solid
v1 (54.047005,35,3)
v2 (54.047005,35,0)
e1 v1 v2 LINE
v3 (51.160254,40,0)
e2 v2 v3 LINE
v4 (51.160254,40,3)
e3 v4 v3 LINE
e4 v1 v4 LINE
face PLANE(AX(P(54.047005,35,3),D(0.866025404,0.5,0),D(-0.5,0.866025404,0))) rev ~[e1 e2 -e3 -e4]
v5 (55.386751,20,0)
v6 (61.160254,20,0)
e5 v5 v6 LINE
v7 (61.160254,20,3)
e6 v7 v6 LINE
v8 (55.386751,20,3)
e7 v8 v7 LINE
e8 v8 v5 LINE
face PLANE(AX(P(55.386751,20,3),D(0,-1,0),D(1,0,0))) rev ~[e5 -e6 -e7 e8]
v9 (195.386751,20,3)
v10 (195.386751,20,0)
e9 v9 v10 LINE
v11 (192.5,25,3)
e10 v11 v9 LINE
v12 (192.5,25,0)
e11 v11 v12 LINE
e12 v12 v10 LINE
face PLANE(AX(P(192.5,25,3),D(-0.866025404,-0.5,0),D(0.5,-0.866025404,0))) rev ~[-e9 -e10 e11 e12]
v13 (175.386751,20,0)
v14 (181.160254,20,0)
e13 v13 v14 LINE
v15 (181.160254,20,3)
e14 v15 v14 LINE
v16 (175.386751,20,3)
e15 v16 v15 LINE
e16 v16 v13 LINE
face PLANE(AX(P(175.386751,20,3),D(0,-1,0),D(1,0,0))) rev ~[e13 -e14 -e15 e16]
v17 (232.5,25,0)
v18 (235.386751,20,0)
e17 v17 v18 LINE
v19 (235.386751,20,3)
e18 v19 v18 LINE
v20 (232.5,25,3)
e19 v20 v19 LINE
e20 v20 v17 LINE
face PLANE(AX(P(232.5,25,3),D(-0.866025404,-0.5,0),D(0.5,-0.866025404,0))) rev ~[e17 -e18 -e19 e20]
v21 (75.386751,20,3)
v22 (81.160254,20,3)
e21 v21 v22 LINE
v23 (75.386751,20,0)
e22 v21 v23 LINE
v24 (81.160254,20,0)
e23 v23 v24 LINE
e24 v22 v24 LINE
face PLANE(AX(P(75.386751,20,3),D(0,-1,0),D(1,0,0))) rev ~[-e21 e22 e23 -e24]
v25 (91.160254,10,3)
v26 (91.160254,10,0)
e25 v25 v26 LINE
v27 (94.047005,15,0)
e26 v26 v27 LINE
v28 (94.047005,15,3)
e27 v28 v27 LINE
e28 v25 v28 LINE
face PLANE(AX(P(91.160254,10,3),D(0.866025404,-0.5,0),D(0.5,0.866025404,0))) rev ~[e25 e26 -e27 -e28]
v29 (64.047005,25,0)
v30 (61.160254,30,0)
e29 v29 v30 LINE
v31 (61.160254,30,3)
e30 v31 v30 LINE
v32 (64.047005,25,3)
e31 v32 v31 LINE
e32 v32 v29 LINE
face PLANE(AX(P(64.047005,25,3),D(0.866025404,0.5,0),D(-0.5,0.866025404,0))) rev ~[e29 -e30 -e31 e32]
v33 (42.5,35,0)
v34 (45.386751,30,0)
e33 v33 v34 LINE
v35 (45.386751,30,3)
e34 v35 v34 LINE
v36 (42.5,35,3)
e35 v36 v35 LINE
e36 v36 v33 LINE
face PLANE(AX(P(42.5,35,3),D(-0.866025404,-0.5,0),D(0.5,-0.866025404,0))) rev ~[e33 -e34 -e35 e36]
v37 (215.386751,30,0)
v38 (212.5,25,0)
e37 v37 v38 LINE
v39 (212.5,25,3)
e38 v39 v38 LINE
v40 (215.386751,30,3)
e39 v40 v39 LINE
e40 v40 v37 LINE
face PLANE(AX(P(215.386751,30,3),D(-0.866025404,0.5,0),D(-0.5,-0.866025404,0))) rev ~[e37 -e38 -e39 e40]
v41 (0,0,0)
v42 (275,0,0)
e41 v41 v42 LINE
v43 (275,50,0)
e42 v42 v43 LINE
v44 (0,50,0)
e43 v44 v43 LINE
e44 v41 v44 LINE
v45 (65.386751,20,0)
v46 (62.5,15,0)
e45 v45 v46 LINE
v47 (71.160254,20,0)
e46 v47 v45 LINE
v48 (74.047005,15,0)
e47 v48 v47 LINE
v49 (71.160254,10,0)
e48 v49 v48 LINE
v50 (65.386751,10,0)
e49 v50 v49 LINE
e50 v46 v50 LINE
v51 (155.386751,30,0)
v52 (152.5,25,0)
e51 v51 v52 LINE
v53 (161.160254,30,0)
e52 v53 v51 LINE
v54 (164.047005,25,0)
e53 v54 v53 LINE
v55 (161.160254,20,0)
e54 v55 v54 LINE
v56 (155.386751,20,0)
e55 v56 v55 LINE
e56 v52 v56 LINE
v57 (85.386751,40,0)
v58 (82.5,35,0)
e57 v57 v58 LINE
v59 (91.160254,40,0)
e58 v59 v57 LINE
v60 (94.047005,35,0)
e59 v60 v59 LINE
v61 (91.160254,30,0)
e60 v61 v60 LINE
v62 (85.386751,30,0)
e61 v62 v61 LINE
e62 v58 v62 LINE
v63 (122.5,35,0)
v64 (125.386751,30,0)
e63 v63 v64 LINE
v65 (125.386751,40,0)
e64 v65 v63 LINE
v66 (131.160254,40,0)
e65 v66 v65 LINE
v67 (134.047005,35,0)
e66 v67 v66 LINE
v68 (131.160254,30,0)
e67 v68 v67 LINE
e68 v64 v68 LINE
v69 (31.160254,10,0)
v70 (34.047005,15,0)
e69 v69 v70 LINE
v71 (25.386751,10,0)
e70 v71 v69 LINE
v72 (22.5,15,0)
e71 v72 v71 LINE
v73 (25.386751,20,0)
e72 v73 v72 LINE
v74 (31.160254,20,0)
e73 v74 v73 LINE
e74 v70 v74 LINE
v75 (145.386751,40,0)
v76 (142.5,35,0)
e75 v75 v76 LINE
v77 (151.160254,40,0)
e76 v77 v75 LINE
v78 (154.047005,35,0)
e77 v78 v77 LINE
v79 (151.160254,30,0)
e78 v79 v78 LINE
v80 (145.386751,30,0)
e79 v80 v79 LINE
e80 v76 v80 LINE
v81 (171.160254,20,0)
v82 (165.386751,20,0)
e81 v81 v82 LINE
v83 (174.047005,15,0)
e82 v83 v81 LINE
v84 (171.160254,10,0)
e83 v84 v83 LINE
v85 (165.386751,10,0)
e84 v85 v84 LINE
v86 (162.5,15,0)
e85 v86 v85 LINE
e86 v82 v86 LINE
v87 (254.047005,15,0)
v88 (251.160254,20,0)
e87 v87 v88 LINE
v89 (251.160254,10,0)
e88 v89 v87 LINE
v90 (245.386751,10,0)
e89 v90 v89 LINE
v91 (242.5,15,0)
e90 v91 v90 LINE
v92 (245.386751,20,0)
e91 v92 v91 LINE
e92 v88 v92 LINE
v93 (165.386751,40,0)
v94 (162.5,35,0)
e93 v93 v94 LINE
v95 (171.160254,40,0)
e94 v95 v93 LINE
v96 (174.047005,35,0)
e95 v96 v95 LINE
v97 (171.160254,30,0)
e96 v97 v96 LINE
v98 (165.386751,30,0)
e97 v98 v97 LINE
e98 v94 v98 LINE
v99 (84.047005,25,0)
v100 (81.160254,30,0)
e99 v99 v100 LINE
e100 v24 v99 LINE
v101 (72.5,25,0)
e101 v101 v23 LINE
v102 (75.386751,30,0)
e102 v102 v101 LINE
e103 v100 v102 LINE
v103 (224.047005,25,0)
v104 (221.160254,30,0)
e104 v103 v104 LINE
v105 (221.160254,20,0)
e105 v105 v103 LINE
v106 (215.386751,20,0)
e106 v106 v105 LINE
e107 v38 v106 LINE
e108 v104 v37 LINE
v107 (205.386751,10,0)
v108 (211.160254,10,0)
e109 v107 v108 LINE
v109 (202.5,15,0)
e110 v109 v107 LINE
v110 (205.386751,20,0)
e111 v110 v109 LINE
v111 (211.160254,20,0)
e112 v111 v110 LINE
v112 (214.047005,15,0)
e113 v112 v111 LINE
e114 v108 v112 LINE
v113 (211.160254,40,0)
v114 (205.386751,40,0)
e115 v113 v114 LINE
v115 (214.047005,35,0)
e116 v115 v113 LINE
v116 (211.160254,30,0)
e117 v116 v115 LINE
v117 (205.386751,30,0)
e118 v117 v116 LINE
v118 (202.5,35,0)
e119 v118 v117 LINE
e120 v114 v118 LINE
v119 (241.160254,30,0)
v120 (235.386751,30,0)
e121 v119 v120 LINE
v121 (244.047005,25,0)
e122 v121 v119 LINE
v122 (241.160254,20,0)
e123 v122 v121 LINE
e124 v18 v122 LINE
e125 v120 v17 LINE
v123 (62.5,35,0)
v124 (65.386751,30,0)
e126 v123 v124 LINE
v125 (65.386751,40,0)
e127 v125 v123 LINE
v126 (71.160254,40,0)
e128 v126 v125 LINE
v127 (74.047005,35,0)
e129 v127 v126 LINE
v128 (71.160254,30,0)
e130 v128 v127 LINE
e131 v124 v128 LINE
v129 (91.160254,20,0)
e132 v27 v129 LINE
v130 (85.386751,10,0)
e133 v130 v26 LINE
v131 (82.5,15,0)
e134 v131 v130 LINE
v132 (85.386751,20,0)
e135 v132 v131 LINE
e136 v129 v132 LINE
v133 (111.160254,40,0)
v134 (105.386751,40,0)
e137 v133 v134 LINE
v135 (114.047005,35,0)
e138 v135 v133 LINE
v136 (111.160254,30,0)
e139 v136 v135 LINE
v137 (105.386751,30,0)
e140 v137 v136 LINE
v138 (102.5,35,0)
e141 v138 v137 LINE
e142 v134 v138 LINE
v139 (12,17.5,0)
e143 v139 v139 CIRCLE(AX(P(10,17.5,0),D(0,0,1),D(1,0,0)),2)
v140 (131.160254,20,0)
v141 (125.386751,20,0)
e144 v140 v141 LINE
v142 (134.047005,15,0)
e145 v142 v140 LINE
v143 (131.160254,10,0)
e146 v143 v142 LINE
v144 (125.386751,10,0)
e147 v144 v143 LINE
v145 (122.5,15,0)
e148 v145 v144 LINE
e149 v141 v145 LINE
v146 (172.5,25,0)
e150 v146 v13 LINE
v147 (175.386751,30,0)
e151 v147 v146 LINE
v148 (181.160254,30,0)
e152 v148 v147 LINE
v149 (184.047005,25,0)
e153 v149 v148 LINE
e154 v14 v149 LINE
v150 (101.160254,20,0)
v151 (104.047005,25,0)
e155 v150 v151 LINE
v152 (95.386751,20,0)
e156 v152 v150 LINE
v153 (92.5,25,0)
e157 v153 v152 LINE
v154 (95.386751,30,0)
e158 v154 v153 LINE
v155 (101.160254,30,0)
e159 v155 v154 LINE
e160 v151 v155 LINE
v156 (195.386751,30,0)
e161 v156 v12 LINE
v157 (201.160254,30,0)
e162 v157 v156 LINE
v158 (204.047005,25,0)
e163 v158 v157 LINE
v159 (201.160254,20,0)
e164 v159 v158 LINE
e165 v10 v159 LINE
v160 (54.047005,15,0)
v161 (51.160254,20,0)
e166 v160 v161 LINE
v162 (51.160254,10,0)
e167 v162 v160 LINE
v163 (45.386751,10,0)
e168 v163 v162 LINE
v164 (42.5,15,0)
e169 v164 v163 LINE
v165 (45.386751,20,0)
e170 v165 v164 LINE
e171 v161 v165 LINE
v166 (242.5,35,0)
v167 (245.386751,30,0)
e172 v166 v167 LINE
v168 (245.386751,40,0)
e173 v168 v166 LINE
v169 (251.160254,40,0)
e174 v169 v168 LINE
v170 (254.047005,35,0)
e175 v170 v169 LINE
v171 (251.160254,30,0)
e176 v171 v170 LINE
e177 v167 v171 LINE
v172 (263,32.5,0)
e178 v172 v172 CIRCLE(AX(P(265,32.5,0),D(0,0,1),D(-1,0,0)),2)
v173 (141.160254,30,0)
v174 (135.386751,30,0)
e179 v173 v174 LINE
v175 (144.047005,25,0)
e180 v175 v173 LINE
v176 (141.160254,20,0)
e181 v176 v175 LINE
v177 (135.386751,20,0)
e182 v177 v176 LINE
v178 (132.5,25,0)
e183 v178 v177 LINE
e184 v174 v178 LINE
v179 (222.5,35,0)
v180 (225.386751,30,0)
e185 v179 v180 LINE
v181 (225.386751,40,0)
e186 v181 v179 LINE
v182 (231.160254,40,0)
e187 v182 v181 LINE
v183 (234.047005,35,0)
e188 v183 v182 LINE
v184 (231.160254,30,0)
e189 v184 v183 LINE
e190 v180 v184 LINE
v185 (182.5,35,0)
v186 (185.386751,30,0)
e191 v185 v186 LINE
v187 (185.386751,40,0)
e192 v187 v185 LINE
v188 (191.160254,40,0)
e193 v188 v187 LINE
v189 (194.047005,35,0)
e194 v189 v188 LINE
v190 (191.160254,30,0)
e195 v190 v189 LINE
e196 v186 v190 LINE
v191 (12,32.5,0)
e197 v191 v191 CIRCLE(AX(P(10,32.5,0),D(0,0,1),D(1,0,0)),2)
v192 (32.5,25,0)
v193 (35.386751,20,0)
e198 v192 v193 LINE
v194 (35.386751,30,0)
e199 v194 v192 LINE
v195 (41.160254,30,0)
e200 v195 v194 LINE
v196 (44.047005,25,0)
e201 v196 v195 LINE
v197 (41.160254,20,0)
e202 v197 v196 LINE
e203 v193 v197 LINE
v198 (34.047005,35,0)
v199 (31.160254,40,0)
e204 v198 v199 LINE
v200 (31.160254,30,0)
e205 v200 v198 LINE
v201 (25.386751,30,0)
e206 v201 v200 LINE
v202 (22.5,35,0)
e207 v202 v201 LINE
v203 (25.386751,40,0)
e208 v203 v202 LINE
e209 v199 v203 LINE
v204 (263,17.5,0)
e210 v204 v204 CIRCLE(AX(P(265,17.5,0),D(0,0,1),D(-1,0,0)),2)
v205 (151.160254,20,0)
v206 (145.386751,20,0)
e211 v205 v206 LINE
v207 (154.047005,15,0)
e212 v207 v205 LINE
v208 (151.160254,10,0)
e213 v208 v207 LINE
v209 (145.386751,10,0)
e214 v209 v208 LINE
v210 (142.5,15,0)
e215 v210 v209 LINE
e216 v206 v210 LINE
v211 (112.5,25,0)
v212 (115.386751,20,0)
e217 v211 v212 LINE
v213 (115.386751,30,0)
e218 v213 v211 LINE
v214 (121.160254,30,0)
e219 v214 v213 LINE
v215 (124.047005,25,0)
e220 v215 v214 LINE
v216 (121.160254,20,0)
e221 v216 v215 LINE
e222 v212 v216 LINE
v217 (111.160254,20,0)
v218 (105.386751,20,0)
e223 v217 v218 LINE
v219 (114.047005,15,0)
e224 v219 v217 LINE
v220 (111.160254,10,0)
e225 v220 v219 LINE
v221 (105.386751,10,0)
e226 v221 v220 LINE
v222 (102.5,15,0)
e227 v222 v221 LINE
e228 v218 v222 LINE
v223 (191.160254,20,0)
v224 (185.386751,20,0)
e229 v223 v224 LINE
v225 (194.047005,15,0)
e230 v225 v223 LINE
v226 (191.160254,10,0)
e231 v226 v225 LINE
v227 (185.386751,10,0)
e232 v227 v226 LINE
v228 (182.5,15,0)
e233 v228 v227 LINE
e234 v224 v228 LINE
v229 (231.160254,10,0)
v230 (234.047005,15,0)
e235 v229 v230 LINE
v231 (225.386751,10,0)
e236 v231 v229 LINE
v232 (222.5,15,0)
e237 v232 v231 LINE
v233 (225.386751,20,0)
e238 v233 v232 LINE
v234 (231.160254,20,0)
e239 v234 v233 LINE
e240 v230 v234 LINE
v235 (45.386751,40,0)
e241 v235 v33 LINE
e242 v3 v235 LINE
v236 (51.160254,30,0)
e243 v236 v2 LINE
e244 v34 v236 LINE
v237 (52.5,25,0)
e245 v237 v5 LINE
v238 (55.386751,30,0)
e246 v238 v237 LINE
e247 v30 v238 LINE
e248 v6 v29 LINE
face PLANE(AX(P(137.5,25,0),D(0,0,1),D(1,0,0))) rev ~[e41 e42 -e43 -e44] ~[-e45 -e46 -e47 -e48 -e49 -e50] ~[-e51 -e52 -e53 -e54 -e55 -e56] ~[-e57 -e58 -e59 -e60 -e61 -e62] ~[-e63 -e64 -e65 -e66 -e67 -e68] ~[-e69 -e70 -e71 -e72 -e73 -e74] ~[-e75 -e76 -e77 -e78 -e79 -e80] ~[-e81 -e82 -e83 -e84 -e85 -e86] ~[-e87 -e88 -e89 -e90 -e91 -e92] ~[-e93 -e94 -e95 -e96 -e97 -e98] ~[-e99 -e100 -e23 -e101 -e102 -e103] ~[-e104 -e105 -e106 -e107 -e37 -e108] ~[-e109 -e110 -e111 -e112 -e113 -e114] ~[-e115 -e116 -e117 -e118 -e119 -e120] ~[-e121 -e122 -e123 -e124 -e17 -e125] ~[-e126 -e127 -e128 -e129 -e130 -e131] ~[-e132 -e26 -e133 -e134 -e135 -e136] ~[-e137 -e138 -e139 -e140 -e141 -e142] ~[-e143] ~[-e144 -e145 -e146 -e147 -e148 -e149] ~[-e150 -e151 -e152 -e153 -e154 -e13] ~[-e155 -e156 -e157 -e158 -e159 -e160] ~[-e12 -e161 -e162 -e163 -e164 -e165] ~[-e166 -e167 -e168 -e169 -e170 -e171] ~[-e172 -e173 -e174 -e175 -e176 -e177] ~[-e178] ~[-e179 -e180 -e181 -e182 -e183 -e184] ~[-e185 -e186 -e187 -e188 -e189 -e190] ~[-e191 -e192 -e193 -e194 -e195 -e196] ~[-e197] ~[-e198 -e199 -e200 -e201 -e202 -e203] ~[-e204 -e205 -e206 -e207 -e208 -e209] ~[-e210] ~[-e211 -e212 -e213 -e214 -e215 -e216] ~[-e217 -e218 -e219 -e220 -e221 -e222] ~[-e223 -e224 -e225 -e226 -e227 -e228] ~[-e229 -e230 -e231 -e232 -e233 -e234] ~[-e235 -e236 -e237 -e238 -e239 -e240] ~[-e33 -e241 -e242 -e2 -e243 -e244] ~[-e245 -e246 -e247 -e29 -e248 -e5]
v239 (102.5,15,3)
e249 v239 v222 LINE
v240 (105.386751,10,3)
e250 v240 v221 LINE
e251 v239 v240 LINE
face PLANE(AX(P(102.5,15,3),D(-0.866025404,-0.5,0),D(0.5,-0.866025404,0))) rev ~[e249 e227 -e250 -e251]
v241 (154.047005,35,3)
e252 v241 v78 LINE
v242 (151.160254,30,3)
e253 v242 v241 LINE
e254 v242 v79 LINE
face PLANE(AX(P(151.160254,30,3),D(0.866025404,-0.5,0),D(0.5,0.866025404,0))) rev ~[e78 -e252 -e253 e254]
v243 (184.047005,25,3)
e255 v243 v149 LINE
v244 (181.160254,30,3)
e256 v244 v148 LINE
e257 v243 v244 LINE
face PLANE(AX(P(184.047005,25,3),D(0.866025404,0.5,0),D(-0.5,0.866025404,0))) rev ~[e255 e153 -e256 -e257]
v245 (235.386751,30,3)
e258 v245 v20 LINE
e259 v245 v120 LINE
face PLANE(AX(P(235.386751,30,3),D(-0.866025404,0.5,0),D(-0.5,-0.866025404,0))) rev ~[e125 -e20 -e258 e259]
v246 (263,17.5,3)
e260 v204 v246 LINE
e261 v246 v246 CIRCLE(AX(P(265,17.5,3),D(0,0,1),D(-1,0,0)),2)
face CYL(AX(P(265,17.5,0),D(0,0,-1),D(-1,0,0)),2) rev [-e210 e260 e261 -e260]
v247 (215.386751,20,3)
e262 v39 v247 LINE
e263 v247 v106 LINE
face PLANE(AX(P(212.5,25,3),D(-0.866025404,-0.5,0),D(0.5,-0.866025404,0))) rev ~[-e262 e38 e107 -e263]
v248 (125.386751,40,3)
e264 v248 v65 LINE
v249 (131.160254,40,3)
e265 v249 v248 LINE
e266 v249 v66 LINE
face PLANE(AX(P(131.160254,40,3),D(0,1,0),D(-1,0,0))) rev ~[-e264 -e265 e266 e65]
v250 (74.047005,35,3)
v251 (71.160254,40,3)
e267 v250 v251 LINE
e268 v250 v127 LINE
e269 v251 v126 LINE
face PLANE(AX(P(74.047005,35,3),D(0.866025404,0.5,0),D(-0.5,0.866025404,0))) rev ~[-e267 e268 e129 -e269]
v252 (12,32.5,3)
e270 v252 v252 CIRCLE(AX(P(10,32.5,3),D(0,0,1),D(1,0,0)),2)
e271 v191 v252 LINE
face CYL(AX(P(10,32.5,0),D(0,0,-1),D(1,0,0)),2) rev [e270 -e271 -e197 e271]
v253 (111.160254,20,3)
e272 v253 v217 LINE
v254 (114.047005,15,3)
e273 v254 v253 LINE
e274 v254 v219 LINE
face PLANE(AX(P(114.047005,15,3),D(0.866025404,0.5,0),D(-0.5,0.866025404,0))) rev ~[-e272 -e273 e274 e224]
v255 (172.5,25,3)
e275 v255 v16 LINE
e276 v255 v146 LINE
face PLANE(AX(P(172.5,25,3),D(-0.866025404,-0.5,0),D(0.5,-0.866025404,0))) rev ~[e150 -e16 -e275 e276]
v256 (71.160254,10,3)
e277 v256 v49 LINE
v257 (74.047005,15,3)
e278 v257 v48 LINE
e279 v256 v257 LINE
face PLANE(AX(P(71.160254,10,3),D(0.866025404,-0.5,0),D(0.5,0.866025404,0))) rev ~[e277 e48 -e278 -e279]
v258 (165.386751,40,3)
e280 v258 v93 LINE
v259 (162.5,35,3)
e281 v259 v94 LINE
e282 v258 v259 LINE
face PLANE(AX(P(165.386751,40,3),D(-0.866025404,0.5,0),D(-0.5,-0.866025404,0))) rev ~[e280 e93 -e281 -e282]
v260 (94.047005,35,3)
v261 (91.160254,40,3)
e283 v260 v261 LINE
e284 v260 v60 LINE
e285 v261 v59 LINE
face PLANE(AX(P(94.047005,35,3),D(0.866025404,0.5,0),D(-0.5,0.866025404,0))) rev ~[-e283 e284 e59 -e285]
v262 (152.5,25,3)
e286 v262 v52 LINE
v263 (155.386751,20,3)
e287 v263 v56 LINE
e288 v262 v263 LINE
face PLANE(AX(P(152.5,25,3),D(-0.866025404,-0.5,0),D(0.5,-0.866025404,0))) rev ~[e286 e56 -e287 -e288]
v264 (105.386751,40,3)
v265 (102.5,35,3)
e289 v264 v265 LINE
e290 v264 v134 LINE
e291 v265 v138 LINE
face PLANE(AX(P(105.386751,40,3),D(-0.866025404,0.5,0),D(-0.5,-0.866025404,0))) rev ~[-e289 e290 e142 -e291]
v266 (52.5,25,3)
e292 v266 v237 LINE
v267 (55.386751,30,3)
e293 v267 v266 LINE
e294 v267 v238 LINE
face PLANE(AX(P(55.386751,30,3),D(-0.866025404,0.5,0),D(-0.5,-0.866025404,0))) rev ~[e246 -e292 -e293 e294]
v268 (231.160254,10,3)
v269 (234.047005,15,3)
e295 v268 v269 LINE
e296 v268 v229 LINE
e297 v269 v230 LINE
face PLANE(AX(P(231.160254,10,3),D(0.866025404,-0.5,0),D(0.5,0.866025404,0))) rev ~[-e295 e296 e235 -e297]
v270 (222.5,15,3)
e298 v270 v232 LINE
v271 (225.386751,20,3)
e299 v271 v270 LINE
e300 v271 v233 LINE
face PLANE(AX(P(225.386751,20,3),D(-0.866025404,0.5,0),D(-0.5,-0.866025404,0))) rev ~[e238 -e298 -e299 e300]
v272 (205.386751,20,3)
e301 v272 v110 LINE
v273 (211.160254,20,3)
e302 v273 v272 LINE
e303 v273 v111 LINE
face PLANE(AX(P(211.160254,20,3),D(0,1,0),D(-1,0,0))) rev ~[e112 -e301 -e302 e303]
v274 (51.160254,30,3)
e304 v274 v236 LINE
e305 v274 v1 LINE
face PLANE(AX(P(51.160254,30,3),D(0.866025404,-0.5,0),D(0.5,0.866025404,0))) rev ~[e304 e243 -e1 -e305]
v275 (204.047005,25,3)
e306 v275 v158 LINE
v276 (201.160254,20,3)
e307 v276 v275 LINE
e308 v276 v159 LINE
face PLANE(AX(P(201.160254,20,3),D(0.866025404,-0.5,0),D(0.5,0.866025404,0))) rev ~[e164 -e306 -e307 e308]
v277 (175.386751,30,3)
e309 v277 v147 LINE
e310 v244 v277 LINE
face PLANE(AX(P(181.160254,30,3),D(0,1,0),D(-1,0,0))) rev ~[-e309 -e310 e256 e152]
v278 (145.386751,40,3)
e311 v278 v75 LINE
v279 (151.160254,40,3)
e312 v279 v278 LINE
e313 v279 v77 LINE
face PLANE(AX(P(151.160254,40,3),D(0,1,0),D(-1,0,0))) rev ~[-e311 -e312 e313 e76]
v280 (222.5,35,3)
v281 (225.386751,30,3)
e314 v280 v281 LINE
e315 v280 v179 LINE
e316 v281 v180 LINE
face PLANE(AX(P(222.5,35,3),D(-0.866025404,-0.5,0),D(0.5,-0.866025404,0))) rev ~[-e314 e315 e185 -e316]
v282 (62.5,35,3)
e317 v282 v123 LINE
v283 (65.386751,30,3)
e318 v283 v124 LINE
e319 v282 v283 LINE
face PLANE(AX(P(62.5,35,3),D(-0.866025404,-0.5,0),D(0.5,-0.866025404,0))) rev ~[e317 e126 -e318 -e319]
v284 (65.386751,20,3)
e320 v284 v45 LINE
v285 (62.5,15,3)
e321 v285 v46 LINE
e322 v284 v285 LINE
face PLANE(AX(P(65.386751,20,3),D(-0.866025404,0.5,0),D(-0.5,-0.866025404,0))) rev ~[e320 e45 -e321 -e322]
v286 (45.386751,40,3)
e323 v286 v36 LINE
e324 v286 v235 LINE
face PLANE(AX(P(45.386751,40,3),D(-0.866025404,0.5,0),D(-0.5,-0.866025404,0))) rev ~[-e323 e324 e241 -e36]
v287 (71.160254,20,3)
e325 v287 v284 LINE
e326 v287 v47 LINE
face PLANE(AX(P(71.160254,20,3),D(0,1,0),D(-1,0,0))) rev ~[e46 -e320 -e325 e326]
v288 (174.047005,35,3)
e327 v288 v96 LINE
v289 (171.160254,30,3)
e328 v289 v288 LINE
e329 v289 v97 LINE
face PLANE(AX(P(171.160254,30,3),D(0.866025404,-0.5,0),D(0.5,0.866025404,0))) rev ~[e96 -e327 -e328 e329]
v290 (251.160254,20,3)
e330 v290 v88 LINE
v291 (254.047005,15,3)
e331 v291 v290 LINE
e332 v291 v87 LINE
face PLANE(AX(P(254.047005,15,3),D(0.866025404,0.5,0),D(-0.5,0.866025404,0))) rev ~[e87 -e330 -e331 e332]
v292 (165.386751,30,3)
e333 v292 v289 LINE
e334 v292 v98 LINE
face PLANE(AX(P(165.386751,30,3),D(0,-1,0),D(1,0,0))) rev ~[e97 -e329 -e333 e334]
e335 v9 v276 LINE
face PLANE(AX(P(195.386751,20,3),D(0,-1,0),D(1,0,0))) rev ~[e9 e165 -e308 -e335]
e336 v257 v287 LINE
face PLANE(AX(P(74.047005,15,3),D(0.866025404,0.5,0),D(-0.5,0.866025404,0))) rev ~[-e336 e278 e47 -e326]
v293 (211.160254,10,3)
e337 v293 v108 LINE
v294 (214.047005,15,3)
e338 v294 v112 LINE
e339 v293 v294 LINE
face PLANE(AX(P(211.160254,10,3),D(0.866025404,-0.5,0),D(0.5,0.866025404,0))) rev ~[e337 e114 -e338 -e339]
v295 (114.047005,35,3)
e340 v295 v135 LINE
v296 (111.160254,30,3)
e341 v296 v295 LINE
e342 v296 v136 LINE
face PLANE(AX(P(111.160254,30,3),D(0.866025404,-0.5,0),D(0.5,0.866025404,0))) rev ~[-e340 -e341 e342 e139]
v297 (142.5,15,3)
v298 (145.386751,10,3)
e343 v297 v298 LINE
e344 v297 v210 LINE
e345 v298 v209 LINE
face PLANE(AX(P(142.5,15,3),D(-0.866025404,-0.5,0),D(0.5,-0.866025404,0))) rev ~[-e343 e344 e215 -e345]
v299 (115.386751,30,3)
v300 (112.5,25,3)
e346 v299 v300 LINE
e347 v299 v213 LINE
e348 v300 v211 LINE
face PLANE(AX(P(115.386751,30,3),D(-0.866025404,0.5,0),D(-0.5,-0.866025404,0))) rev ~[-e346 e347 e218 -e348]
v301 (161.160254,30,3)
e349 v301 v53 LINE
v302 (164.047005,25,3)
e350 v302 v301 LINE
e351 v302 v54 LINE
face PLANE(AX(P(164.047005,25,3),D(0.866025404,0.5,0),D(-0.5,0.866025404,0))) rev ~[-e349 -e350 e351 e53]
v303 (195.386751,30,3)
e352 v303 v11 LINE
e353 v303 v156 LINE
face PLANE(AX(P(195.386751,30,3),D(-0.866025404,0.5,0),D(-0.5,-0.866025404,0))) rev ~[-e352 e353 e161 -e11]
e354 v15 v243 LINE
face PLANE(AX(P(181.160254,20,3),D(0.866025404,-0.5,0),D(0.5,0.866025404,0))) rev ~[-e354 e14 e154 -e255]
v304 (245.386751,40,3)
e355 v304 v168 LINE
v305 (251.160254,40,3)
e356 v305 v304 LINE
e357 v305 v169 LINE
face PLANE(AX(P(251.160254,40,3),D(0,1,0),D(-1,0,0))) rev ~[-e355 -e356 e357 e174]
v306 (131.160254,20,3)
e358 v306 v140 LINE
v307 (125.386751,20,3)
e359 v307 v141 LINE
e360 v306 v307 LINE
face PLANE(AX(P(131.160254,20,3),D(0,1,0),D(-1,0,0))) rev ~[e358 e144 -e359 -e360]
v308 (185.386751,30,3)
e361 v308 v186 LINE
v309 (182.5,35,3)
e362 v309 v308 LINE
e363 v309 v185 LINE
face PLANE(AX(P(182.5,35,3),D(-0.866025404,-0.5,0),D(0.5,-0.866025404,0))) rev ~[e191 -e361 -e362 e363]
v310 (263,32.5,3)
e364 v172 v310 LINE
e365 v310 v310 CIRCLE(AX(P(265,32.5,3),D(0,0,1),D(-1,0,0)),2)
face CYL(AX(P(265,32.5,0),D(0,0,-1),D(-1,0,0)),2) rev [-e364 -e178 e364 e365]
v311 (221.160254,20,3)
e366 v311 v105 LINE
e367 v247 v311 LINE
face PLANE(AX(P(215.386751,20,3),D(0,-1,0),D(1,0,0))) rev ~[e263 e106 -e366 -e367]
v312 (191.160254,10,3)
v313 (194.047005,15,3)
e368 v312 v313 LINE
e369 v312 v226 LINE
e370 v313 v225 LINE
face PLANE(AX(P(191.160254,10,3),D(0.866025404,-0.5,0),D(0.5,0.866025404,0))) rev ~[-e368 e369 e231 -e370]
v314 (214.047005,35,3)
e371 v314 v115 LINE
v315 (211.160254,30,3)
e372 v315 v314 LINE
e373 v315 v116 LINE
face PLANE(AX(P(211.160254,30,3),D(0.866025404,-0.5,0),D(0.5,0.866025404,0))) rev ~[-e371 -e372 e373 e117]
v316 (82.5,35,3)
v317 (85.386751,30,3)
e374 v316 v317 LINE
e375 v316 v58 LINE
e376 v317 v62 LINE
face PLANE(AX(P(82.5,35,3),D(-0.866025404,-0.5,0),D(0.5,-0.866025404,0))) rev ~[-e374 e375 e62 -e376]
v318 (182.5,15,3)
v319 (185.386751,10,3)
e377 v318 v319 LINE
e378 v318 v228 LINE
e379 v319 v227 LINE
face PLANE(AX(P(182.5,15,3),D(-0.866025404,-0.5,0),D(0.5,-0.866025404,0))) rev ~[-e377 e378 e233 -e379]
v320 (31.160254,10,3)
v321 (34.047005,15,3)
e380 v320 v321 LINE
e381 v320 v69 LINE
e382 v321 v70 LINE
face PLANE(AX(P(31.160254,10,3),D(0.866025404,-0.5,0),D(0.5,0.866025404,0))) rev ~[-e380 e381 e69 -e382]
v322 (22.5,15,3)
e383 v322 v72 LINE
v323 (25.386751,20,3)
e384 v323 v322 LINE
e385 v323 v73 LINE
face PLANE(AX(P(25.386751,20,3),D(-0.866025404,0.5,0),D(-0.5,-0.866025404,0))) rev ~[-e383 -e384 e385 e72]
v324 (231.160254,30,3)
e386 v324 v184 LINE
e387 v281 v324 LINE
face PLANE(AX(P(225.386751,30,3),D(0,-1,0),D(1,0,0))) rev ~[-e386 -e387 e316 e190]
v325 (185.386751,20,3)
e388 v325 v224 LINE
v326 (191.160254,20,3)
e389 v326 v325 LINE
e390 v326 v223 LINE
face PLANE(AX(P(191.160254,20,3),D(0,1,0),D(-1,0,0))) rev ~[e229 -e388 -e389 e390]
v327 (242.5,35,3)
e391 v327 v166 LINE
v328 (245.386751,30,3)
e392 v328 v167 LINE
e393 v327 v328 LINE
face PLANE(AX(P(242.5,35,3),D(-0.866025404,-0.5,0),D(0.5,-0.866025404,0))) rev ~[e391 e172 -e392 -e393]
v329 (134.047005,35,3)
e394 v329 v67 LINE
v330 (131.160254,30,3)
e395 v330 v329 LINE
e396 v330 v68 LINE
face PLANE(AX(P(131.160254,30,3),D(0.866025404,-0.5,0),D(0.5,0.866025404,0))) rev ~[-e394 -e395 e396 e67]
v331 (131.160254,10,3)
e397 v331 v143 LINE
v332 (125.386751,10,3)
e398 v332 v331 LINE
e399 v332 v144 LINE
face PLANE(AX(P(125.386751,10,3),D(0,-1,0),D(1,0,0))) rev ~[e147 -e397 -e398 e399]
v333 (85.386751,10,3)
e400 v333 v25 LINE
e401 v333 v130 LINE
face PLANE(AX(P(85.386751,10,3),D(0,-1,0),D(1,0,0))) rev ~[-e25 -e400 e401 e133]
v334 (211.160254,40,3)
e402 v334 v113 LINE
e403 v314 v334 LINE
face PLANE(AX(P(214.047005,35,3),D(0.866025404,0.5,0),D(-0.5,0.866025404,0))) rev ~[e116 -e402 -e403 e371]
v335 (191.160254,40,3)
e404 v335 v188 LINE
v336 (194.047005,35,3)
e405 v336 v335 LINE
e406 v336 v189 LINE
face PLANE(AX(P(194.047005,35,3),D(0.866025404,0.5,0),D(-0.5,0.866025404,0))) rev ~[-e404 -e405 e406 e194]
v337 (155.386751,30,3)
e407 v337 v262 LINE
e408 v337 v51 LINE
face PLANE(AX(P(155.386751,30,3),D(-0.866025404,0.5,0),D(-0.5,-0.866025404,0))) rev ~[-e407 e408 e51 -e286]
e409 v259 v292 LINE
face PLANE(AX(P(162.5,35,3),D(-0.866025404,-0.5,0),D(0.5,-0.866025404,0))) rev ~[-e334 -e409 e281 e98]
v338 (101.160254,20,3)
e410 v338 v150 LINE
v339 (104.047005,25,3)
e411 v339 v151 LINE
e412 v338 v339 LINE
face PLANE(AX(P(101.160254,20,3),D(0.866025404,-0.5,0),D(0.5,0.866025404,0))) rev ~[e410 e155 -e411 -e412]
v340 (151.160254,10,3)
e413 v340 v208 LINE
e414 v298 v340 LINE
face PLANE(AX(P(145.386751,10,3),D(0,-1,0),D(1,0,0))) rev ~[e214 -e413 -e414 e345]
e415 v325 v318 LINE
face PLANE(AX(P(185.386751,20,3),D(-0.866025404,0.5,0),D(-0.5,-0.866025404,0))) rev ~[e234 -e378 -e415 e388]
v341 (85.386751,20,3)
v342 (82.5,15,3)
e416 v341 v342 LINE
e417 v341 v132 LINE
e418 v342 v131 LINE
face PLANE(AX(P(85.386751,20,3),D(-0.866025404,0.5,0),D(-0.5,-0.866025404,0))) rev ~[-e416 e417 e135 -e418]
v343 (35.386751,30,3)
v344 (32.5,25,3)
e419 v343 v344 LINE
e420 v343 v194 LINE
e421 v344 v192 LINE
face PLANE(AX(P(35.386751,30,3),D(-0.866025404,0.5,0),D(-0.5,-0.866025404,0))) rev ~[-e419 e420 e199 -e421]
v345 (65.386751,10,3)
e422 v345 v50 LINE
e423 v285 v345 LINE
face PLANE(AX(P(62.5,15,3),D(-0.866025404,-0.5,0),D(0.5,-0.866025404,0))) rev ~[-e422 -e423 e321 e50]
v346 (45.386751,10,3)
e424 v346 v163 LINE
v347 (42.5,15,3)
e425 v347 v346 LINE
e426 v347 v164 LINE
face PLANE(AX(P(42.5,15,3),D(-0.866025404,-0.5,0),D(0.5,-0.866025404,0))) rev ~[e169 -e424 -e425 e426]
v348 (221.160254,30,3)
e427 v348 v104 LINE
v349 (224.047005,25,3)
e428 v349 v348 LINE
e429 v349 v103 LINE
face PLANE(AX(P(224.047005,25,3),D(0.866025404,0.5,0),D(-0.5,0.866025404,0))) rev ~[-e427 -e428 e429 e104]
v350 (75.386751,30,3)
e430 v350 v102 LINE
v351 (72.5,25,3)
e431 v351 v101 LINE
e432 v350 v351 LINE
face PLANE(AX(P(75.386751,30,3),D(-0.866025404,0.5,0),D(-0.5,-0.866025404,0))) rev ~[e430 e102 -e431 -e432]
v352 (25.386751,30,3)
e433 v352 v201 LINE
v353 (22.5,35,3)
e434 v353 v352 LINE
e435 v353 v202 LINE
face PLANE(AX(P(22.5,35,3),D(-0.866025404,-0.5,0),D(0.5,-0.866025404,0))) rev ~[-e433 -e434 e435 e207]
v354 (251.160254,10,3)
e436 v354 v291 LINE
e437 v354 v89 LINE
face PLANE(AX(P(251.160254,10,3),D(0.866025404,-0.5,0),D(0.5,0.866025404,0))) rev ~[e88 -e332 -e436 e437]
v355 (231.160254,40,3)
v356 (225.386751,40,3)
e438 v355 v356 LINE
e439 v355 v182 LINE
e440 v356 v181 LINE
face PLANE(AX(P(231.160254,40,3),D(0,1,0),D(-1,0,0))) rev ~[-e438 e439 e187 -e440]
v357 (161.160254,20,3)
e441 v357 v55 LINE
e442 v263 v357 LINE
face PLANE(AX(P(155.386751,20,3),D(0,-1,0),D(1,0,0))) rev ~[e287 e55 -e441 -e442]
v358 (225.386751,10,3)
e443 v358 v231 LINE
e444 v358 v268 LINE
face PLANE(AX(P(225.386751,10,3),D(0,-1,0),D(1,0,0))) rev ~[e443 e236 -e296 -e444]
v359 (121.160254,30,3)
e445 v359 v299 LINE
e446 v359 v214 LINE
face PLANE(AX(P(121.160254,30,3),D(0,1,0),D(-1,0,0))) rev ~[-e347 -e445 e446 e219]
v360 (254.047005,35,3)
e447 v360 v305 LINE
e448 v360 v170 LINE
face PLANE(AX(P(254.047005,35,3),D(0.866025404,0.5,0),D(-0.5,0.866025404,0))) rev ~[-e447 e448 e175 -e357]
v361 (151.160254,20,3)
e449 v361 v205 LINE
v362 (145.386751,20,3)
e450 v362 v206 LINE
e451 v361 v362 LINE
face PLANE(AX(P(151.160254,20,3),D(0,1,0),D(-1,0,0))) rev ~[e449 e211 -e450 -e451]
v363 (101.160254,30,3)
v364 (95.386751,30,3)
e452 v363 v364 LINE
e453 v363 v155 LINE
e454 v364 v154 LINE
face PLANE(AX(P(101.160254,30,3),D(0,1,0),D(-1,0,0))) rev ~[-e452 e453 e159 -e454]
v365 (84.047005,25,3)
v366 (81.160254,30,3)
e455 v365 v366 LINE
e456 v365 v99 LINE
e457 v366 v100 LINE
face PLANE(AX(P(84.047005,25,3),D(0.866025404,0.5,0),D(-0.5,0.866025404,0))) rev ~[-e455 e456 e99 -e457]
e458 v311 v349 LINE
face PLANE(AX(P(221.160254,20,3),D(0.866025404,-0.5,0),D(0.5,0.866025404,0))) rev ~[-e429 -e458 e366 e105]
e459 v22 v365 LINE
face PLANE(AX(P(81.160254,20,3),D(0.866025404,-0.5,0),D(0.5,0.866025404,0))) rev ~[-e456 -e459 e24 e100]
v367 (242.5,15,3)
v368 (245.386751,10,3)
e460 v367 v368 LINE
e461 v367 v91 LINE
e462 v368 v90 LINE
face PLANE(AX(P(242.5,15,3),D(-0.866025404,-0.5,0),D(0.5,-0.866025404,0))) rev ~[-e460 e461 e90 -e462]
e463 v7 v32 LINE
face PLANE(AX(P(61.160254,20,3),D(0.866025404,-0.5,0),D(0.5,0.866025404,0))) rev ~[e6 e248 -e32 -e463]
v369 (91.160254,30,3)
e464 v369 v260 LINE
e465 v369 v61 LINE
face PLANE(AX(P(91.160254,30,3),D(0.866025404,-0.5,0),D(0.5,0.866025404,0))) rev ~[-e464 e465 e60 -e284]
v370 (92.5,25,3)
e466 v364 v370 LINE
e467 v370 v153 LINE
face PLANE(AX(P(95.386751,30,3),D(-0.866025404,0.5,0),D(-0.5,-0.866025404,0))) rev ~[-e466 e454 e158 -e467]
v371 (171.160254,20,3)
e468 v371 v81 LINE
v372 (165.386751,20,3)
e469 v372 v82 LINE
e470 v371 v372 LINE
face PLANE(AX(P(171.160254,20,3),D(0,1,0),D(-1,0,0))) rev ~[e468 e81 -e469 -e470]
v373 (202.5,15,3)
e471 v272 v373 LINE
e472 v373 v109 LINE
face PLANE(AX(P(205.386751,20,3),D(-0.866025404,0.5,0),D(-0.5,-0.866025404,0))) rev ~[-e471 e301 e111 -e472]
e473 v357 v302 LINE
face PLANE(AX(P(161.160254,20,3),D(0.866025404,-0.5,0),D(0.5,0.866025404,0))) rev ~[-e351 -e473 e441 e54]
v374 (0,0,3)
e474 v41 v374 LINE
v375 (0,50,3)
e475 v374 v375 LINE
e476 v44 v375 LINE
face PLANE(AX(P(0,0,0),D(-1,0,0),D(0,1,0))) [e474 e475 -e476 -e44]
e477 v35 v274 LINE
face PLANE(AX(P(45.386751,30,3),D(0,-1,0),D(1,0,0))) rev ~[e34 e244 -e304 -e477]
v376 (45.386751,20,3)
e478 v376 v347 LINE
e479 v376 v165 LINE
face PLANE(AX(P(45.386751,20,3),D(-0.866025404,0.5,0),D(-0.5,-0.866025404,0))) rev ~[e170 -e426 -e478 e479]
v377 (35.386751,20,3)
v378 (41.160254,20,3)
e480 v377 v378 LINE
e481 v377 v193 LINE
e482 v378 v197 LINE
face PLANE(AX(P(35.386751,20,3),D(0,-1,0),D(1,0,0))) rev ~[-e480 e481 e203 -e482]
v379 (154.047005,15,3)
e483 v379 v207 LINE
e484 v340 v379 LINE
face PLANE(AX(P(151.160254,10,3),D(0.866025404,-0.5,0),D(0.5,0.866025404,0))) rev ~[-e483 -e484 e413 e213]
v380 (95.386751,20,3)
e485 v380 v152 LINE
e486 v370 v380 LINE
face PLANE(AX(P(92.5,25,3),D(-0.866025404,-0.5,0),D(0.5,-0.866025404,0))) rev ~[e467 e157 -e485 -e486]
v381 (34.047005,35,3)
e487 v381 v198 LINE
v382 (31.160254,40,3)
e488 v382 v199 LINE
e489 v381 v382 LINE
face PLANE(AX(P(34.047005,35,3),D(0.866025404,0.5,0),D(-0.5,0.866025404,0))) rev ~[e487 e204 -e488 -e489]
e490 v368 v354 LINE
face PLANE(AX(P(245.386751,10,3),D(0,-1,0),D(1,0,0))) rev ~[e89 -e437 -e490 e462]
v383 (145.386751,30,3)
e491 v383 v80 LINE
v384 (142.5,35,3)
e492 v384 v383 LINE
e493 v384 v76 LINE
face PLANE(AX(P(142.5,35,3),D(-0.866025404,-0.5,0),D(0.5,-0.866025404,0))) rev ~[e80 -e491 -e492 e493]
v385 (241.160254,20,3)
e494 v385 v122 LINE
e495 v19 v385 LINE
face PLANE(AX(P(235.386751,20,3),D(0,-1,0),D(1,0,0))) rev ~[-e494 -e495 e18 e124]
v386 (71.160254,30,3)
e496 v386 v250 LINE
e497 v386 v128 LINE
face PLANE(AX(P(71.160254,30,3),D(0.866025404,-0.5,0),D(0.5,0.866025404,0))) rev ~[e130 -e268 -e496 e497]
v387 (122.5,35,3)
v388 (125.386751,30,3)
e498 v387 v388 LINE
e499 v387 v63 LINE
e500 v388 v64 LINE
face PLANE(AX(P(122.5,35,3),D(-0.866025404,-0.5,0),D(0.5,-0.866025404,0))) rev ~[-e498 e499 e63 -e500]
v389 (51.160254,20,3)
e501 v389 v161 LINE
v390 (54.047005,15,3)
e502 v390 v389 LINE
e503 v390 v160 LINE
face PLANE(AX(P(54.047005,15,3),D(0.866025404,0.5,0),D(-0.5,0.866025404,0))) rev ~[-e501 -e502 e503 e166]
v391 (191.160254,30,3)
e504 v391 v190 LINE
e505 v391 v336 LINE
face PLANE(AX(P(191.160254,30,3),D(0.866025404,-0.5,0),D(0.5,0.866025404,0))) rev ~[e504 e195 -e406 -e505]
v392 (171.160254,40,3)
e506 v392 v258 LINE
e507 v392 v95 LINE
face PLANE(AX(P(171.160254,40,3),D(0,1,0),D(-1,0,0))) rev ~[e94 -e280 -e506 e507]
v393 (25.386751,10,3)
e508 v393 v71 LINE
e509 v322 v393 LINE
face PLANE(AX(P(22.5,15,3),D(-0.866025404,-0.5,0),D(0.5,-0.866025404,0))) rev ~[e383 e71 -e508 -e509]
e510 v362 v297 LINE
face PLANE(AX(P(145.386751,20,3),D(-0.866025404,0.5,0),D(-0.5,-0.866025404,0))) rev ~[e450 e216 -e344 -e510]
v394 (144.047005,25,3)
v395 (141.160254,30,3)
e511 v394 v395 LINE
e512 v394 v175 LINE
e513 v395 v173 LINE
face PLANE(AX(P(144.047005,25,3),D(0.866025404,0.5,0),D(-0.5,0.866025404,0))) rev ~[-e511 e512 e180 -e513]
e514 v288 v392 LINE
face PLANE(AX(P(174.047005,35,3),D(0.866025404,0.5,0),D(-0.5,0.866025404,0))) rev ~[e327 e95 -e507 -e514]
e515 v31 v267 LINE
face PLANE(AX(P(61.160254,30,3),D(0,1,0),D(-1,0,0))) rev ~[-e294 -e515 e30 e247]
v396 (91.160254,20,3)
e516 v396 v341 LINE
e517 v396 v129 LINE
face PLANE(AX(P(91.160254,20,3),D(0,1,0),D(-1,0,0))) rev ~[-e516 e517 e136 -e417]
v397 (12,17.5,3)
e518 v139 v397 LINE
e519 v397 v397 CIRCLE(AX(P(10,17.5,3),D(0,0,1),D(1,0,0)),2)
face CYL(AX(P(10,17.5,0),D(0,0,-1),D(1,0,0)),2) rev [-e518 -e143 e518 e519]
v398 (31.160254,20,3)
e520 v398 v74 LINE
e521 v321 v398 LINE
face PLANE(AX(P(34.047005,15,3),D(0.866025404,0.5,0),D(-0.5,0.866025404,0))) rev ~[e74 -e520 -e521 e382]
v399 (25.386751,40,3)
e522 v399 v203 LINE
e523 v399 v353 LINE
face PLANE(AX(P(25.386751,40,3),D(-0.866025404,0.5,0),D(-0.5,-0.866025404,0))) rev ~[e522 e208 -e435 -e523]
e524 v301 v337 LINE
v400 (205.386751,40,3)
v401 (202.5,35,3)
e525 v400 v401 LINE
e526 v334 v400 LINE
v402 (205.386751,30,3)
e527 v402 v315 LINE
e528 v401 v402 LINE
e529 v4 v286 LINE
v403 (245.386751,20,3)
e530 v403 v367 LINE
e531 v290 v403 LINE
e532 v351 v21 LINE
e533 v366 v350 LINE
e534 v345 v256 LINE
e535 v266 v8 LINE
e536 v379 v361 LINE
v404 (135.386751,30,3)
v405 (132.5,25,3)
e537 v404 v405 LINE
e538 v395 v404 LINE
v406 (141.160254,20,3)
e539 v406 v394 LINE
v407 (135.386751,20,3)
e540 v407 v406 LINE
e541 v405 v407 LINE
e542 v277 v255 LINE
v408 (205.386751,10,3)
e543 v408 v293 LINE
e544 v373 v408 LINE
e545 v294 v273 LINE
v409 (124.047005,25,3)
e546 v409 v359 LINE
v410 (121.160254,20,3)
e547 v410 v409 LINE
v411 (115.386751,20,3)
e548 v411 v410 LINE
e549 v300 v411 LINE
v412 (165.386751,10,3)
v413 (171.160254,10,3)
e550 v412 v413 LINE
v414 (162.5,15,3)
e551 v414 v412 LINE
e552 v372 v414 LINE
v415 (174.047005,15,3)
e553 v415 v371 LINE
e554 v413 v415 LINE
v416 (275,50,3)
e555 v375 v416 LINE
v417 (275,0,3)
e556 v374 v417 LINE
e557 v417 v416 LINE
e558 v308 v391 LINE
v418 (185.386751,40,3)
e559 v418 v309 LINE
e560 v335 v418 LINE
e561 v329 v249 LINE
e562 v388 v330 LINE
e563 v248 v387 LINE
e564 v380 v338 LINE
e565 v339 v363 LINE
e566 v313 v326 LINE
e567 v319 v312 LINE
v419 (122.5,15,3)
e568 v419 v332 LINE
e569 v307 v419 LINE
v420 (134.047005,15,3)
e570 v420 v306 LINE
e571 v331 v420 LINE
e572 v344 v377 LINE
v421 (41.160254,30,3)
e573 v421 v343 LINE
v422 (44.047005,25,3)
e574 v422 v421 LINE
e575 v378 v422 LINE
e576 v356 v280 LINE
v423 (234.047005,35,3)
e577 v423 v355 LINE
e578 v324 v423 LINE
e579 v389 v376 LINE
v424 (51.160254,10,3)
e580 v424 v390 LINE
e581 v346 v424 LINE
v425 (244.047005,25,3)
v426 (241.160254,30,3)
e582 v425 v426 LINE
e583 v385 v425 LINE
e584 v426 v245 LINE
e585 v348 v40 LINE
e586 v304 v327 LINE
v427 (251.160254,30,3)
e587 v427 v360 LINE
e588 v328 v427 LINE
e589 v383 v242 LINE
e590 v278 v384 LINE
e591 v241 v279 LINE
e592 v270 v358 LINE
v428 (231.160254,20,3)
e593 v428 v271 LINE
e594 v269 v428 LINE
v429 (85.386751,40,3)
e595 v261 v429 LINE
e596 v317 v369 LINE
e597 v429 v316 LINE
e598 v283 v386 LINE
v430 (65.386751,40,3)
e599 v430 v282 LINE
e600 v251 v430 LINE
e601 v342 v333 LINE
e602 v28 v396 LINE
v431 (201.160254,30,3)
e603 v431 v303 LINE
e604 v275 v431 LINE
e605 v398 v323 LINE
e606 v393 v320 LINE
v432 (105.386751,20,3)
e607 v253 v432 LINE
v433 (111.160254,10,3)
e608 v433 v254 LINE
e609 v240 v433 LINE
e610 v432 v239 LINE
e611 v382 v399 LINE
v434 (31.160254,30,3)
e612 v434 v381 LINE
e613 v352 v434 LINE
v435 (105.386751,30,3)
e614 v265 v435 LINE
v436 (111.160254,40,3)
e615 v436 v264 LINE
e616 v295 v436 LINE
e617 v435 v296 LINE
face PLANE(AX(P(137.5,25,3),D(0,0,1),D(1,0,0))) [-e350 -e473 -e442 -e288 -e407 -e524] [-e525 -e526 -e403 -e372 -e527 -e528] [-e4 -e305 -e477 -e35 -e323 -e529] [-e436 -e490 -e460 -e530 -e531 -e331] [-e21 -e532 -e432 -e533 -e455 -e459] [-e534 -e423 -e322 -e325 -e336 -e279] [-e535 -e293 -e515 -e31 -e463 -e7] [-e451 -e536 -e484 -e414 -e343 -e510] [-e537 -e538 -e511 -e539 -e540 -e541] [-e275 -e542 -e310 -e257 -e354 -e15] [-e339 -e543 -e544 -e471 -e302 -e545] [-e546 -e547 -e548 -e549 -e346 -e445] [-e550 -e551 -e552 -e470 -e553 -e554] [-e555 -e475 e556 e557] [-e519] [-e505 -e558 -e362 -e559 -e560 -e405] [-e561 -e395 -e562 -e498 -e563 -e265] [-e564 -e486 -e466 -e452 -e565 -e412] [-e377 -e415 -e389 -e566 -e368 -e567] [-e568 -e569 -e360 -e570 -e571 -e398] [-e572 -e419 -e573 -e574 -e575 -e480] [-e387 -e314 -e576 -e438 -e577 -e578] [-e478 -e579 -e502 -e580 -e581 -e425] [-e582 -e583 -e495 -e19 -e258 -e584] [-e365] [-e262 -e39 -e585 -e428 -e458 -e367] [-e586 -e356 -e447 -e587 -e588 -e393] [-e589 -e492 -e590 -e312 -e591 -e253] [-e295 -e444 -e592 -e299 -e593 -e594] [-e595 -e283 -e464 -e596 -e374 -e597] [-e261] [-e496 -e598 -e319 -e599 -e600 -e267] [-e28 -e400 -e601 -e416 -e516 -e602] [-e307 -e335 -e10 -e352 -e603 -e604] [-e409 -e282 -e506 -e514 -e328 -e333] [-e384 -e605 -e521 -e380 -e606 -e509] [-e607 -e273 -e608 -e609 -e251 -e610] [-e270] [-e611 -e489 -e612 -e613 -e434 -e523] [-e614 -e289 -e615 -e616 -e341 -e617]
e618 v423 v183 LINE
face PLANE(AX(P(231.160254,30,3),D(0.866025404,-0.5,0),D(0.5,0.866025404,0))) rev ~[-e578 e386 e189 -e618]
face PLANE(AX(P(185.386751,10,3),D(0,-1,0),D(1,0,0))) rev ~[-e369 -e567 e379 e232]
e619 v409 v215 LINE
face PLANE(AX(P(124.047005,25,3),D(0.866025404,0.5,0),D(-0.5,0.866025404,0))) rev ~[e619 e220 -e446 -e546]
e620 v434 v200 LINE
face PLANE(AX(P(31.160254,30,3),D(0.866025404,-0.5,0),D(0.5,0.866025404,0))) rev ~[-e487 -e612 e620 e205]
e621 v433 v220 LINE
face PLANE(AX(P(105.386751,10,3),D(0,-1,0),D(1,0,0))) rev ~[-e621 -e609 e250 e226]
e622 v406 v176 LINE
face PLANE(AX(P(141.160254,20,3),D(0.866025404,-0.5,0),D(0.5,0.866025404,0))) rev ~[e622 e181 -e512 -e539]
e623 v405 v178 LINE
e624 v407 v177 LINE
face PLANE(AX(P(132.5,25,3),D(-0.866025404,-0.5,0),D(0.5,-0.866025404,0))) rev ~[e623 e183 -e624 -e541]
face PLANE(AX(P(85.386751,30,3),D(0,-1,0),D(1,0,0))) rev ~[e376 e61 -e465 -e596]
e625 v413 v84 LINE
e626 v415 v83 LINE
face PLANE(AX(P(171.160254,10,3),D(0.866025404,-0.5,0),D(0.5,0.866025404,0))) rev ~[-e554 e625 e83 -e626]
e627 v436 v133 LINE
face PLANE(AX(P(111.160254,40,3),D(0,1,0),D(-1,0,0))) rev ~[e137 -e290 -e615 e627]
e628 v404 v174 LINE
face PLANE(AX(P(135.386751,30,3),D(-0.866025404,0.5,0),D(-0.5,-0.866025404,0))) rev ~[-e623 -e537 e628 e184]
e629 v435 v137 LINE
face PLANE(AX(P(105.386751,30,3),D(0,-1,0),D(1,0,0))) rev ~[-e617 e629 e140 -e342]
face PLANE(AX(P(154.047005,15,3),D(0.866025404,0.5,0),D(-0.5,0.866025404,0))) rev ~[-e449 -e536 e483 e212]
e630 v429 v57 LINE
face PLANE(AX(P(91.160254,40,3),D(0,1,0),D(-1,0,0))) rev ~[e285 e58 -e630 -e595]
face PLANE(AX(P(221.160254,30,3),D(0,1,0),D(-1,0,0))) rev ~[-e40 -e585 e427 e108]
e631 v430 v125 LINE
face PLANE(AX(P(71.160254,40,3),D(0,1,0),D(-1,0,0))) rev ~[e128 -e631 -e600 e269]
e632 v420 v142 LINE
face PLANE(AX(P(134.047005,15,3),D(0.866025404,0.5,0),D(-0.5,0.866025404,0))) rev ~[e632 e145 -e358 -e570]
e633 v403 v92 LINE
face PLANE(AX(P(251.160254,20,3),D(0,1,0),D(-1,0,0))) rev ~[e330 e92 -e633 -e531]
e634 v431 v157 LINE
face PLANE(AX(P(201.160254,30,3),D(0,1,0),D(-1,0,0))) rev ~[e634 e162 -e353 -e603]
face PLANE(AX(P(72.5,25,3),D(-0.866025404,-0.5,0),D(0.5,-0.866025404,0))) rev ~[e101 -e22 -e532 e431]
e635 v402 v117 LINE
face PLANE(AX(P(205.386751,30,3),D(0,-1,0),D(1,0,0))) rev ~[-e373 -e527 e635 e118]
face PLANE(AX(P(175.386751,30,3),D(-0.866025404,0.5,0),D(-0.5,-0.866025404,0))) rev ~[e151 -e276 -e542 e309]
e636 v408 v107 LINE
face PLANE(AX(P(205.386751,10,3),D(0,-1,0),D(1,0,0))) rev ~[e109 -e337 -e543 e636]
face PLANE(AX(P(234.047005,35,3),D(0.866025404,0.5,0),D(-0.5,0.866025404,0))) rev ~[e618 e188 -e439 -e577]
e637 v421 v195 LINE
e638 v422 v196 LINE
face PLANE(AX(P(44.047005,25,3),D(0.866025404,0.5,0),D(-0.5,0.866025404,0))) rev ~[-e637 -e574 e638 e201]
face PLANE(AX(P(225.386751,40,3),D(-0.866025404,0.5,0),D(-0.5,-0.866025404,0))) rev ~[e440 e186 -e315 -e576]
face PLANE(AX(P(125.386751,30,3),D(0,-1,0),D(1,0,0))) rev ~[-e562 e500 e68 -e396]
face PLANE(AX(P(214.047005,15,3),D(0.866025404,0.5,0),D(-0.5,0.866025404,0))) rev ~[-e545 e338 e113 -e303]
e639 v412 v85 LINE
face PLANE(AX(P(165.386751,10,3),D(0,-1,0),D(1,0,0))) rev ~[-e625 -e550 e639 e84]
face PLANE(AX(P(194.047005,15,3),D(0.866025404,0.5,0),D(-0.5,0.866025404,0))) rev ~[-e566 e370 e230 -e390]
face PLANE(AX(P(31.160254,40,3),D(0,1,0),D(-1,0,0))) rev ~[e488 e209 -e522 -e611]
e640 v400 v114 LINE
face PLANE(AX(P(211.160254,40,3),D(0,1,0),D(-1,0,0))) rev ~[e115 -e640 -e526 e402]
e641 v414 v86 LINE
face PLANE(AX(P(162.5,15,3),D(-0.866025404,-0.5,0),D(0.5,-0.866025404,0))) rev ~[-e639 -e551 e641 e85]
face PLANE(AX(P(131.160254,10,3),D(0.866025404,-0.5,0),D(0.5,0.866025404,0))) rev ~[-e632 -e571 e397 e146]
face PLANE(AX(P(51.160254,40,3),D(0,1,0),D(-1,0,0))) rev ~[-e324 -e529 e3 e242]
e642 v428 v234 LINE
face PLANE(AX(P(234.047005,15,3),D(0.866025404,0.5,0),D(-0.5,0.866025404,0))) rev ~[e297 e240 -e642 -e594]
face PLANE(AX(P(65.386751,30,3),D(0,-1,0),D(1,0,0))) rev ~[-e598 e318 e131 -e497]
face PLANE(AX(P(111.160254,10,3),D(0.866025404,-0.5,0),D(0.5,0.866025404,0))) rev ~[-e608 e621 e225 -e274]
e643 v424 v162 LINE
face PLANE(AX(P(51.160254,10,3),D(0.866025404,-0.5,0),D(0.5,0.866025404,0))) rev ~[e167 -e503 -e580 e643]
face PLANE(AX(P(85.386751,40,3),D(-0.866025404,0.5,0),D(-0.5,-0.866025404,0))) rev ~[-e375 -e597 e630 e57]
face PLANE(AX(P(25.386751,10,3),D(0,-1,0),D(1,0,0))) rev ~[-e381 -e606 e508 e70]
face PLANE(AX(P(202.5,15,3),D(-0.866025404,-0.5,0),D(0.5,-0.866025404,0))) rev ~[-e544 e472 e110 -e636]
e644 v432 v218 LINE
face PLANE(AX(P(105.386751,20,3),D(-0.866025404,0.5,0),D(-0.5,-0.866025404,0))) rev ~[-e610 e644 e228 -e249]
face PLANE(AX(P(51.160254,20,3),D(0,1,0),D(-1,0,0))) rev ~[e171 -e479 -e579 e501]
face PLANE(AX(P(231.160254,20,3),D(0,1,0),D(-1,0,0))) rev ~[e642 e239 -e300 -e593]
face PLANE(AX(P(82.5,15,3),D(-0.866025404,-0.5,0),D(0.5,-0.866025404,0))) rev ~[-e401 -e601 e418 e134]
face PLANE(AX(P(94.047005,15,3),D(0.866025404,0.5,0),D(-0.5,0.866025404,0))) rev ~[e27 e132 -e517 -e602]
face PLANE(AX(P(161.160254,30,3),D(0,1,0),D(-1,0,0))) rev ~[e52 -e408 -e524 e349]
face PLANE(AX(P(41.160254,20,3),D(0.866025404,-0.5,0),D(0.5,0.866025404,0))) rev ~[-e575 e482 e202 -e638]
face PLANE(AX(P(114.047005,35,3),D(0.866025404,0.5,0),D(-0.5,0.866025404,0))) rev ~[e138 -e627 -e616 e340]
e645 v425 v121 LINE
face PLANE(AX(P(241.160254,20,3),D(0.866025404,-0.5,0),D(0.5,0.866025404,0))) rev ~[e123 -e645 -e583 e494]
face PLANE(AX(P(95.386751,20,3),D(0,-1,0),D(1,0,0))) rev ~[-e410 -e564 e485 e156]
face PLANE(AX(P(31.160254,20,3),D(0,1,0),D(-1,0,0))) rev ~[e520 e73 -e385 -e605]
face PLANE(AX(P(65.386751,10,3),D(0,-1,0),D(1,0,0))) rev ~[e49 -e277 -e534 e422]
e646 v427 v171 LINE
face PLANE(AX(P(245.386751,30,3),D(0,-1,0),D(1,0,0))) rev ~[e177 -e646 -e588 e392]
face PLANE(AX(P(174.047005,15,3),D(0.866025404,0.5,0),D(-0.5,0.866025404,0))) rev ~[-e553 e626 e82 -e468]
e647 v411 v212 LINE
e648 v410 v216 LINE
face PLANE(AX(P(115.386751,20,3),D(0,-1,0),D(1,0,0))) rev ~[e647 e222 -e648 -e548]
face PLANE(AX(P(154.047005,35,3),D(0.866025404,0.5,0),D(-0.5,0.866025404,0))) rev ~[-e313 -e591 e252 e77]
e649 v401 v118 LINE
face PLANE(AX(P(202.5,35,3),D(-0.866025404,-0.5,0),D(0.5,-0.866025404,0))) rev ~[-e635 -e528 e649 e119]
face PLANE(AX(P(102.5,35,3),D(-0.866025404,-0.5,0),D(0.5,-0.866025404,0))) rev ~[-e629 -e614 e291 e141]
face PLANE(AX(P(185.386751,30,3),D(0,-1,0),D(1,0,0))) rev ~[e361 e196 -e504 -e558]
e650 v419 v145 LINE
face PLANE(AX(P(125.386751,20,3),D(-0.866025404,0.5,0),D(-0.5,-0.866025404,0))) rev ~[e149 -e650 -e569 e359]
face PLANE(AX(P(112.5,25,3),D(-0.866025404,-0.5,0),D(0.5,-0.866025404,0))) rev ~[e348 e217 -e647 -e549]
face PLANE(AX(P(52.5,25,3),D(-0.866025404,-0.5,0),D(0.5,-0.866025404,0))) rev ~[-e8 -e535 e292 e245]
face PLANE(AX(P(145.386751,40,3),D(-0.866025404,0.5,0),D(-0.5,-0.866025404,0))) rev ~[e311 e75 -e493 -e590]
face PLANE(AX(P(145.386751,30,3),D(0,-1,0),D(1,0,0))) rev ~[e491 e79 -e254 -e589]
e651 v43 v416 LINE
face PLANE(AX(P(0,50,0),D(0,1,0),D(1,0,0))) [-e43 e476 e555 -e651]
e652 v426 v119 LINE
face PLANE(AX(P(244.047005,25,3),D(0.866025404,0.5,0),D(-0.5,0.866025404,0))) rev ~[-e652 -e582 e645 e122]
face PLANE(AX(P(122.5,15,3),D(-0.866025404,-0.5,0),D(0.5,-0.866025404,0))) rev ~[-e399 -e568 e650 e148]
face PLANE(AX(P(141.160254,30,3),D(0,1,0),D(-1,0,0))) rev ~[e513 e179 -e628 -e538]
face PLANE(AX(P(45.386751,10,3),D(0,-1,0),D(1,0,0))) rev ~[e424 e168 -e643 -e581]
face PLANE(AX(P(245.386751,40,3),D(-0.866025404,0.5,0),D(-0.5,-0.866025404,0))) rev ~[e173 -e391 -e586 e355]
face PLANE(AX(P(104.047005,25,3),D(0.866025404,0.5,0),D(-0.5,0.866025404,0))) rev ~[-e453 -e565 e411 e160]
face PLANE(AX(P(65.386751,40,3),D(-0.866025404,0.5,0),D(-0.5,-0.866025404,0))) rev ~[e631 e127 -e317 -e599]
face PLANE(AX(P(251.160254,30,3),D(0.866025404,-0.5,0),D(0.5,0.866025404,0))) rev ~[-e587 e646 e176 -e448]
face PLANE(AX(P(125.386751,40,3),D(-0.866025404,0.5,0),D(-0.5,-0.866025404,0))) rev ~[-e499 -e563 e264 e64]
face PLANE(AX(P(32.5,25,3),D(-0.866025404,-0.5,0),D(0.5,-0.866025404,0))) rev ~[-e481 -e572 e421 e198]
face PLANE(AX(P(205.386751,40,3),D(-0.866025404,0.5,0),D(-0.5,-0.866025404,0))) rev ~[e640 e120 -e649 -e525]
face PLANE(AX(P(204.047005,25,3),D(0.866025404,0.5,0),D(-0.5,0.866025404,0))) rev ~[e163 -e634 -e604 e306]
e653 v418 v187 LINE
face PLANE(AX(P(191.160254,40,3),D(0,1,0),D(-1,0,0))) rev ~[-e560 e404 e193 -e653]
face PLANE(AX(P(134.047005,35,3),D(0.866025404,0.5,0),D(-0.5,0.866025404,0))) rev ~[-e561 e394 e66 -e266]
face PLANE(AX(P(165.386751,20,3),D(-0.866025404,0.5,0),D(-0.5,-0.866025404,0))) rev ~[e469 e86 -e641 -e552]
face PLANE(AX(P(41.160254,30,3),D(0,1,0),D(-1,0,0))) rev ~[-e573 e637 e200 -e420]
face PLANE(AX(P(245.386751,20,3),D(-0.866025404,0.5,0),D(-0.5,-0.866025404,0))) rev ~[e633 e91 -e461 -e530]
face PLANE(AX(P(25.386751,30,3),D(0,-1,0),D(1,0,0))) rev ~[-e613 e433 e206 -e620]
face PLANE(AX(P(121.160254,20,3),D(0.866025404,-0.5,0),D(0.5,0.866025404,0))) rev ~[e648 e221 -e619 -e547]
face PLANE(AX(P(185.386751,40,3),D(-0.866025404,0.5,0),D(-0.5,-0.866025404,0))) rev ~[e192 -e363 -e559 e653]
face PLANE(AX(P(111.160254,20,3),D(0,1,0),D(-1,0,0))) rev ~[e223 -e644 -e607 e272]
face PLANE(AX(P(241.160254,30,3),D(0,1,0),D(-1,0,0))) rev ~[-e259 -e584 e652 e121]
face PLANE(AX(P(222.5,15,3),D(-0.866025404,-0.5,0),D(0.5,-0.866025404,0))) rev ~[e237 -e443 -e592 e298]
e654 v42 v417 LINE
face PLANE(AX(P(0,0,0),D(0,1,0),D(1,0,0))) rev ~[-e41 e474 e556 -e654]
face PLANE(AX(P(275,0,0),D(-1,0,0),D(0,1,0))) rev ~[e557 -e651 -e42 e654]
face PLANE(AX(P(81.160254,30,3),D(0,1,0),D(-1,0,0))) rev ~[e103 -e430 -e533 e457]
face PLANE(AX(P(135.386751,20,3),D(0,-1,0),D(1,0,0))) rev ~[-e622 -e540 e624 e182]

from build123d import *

# Parameters (mm, degrees)
SKETCH1_W           = 275
SKETCH1_H           = 50
SKETCH1_R           = 2
BOSS_EXTRUDE1_DEPTH = 3
CUT_EXTRUDE2_DEPTH  = 3
LPATTERN1_COUNT     = 12
LPATTERN1_PITCH     = 20
CUT_EXTRUDE3_DEPTH  = 3
LPATTERN2_COUNT     = 11
LPATTERN2_PITCH     = 20
CUT_EXTRUDE4_DEPTH  = 3
LPATTERN3_COUNT     = 12
LPATTERN3_PITCH     = 20


with BuildPart() as part:
    # Sketch1 → Boss-Extrude1 (new body)
    with BuildSketch(Plane.XY):
        with Locations((137.5, 25)):
            Rectangle(SKETCH1_W, SKETCH1_H)
        with Locations((10, 32.5)):
            Circle(SKETCH1_R, mode=Mode.SUBTRACT)
        with Locations((10, 17.5)):
            Circle(SKETCH1_R, mode=Mode.SUBTRACT)
        with Locations(Location((265, 17.5, 0), (0, 0, 180))):
            Circle(SKETCH1_R, mode=Mode.SUBTRACT)
        with Locations(Location((265, 32.5, 0), (0, 0, 180))):
            Circle(SKETCH1_R, mode=Mode.SUBTRACT)
    extrude(amount=BOSS_EXTRUDE1_DEPTH)

    # Sketch3 → Cut-Extrude2 (cut)
    with BuildSketch(Plane.XY.offset(3)):
        Polygon((34.047005384, 35), (31.160254038, 40), (25.386751346, 40), (22.5, 35), (25.386751346, 30), (31.160254038, 30), align=None)
    cut_extrude2 = extrude(amount=-CUT_EXTRUDE2_DEPTH, mode=Mode.SUBTRACT)

    # LPattern1: Cut-Extrude2 ×12
    with Locations(*[(i * LPATTERN1_PITCH, 0, 0) for i in range(1, LPATTERN1_COUNT)]):
        add(cut_extrude2, mode=Mode.SUBTRACT)

    # Sketch5 → Cut-Extrude3 (cut)
    with BuildSketch(Plane.XY.offset(3)):
        Polygon((32.5, 25), (35.386751346, 20), (41.160254038, 20), (44.047005384, 25), (41.160254038, 30), (35.386751346, 30), align=None)
    cut_extrude3 = extrude(amount=-CUT_EXTRUDE3_DEPTH, mode=Mode.SUBTRACT)

    # LPattern2: Cut-Extrude3 ×11
    with Locations(*[(i * LPATTERN2_PITCH, 0, 0) for i in range(1, LPATTERN2_COUNT)]):
        add(cut_extrude3, mode=Mode.SUBTRACT)

    # Sketch6 → Cut-Extrude4 (cut)
    with BuildSketch(Plane.XY.offset(3)):
        Polygon((34.047005384, 15), (31.160254038, 20), (25.386751346, 20), (22.5, 15), (25.386751346, 10), (31.160254038, 10), align=None)
    cut_extrude4 = extrude(amount=-CUT_EXTRUDE4_DEPTH, mode=Mode.SUBTRACT)

    # LPattern3: Cut-Extrude4 ×12
    with Locations(*[(i * LPATTERN3_PITCH, 0, 0) for i in range(1, LPATTERN3_COUNT)]):
        add(cut_extrude4, mode=Mode.SUBTRACT)


solid = part.part
